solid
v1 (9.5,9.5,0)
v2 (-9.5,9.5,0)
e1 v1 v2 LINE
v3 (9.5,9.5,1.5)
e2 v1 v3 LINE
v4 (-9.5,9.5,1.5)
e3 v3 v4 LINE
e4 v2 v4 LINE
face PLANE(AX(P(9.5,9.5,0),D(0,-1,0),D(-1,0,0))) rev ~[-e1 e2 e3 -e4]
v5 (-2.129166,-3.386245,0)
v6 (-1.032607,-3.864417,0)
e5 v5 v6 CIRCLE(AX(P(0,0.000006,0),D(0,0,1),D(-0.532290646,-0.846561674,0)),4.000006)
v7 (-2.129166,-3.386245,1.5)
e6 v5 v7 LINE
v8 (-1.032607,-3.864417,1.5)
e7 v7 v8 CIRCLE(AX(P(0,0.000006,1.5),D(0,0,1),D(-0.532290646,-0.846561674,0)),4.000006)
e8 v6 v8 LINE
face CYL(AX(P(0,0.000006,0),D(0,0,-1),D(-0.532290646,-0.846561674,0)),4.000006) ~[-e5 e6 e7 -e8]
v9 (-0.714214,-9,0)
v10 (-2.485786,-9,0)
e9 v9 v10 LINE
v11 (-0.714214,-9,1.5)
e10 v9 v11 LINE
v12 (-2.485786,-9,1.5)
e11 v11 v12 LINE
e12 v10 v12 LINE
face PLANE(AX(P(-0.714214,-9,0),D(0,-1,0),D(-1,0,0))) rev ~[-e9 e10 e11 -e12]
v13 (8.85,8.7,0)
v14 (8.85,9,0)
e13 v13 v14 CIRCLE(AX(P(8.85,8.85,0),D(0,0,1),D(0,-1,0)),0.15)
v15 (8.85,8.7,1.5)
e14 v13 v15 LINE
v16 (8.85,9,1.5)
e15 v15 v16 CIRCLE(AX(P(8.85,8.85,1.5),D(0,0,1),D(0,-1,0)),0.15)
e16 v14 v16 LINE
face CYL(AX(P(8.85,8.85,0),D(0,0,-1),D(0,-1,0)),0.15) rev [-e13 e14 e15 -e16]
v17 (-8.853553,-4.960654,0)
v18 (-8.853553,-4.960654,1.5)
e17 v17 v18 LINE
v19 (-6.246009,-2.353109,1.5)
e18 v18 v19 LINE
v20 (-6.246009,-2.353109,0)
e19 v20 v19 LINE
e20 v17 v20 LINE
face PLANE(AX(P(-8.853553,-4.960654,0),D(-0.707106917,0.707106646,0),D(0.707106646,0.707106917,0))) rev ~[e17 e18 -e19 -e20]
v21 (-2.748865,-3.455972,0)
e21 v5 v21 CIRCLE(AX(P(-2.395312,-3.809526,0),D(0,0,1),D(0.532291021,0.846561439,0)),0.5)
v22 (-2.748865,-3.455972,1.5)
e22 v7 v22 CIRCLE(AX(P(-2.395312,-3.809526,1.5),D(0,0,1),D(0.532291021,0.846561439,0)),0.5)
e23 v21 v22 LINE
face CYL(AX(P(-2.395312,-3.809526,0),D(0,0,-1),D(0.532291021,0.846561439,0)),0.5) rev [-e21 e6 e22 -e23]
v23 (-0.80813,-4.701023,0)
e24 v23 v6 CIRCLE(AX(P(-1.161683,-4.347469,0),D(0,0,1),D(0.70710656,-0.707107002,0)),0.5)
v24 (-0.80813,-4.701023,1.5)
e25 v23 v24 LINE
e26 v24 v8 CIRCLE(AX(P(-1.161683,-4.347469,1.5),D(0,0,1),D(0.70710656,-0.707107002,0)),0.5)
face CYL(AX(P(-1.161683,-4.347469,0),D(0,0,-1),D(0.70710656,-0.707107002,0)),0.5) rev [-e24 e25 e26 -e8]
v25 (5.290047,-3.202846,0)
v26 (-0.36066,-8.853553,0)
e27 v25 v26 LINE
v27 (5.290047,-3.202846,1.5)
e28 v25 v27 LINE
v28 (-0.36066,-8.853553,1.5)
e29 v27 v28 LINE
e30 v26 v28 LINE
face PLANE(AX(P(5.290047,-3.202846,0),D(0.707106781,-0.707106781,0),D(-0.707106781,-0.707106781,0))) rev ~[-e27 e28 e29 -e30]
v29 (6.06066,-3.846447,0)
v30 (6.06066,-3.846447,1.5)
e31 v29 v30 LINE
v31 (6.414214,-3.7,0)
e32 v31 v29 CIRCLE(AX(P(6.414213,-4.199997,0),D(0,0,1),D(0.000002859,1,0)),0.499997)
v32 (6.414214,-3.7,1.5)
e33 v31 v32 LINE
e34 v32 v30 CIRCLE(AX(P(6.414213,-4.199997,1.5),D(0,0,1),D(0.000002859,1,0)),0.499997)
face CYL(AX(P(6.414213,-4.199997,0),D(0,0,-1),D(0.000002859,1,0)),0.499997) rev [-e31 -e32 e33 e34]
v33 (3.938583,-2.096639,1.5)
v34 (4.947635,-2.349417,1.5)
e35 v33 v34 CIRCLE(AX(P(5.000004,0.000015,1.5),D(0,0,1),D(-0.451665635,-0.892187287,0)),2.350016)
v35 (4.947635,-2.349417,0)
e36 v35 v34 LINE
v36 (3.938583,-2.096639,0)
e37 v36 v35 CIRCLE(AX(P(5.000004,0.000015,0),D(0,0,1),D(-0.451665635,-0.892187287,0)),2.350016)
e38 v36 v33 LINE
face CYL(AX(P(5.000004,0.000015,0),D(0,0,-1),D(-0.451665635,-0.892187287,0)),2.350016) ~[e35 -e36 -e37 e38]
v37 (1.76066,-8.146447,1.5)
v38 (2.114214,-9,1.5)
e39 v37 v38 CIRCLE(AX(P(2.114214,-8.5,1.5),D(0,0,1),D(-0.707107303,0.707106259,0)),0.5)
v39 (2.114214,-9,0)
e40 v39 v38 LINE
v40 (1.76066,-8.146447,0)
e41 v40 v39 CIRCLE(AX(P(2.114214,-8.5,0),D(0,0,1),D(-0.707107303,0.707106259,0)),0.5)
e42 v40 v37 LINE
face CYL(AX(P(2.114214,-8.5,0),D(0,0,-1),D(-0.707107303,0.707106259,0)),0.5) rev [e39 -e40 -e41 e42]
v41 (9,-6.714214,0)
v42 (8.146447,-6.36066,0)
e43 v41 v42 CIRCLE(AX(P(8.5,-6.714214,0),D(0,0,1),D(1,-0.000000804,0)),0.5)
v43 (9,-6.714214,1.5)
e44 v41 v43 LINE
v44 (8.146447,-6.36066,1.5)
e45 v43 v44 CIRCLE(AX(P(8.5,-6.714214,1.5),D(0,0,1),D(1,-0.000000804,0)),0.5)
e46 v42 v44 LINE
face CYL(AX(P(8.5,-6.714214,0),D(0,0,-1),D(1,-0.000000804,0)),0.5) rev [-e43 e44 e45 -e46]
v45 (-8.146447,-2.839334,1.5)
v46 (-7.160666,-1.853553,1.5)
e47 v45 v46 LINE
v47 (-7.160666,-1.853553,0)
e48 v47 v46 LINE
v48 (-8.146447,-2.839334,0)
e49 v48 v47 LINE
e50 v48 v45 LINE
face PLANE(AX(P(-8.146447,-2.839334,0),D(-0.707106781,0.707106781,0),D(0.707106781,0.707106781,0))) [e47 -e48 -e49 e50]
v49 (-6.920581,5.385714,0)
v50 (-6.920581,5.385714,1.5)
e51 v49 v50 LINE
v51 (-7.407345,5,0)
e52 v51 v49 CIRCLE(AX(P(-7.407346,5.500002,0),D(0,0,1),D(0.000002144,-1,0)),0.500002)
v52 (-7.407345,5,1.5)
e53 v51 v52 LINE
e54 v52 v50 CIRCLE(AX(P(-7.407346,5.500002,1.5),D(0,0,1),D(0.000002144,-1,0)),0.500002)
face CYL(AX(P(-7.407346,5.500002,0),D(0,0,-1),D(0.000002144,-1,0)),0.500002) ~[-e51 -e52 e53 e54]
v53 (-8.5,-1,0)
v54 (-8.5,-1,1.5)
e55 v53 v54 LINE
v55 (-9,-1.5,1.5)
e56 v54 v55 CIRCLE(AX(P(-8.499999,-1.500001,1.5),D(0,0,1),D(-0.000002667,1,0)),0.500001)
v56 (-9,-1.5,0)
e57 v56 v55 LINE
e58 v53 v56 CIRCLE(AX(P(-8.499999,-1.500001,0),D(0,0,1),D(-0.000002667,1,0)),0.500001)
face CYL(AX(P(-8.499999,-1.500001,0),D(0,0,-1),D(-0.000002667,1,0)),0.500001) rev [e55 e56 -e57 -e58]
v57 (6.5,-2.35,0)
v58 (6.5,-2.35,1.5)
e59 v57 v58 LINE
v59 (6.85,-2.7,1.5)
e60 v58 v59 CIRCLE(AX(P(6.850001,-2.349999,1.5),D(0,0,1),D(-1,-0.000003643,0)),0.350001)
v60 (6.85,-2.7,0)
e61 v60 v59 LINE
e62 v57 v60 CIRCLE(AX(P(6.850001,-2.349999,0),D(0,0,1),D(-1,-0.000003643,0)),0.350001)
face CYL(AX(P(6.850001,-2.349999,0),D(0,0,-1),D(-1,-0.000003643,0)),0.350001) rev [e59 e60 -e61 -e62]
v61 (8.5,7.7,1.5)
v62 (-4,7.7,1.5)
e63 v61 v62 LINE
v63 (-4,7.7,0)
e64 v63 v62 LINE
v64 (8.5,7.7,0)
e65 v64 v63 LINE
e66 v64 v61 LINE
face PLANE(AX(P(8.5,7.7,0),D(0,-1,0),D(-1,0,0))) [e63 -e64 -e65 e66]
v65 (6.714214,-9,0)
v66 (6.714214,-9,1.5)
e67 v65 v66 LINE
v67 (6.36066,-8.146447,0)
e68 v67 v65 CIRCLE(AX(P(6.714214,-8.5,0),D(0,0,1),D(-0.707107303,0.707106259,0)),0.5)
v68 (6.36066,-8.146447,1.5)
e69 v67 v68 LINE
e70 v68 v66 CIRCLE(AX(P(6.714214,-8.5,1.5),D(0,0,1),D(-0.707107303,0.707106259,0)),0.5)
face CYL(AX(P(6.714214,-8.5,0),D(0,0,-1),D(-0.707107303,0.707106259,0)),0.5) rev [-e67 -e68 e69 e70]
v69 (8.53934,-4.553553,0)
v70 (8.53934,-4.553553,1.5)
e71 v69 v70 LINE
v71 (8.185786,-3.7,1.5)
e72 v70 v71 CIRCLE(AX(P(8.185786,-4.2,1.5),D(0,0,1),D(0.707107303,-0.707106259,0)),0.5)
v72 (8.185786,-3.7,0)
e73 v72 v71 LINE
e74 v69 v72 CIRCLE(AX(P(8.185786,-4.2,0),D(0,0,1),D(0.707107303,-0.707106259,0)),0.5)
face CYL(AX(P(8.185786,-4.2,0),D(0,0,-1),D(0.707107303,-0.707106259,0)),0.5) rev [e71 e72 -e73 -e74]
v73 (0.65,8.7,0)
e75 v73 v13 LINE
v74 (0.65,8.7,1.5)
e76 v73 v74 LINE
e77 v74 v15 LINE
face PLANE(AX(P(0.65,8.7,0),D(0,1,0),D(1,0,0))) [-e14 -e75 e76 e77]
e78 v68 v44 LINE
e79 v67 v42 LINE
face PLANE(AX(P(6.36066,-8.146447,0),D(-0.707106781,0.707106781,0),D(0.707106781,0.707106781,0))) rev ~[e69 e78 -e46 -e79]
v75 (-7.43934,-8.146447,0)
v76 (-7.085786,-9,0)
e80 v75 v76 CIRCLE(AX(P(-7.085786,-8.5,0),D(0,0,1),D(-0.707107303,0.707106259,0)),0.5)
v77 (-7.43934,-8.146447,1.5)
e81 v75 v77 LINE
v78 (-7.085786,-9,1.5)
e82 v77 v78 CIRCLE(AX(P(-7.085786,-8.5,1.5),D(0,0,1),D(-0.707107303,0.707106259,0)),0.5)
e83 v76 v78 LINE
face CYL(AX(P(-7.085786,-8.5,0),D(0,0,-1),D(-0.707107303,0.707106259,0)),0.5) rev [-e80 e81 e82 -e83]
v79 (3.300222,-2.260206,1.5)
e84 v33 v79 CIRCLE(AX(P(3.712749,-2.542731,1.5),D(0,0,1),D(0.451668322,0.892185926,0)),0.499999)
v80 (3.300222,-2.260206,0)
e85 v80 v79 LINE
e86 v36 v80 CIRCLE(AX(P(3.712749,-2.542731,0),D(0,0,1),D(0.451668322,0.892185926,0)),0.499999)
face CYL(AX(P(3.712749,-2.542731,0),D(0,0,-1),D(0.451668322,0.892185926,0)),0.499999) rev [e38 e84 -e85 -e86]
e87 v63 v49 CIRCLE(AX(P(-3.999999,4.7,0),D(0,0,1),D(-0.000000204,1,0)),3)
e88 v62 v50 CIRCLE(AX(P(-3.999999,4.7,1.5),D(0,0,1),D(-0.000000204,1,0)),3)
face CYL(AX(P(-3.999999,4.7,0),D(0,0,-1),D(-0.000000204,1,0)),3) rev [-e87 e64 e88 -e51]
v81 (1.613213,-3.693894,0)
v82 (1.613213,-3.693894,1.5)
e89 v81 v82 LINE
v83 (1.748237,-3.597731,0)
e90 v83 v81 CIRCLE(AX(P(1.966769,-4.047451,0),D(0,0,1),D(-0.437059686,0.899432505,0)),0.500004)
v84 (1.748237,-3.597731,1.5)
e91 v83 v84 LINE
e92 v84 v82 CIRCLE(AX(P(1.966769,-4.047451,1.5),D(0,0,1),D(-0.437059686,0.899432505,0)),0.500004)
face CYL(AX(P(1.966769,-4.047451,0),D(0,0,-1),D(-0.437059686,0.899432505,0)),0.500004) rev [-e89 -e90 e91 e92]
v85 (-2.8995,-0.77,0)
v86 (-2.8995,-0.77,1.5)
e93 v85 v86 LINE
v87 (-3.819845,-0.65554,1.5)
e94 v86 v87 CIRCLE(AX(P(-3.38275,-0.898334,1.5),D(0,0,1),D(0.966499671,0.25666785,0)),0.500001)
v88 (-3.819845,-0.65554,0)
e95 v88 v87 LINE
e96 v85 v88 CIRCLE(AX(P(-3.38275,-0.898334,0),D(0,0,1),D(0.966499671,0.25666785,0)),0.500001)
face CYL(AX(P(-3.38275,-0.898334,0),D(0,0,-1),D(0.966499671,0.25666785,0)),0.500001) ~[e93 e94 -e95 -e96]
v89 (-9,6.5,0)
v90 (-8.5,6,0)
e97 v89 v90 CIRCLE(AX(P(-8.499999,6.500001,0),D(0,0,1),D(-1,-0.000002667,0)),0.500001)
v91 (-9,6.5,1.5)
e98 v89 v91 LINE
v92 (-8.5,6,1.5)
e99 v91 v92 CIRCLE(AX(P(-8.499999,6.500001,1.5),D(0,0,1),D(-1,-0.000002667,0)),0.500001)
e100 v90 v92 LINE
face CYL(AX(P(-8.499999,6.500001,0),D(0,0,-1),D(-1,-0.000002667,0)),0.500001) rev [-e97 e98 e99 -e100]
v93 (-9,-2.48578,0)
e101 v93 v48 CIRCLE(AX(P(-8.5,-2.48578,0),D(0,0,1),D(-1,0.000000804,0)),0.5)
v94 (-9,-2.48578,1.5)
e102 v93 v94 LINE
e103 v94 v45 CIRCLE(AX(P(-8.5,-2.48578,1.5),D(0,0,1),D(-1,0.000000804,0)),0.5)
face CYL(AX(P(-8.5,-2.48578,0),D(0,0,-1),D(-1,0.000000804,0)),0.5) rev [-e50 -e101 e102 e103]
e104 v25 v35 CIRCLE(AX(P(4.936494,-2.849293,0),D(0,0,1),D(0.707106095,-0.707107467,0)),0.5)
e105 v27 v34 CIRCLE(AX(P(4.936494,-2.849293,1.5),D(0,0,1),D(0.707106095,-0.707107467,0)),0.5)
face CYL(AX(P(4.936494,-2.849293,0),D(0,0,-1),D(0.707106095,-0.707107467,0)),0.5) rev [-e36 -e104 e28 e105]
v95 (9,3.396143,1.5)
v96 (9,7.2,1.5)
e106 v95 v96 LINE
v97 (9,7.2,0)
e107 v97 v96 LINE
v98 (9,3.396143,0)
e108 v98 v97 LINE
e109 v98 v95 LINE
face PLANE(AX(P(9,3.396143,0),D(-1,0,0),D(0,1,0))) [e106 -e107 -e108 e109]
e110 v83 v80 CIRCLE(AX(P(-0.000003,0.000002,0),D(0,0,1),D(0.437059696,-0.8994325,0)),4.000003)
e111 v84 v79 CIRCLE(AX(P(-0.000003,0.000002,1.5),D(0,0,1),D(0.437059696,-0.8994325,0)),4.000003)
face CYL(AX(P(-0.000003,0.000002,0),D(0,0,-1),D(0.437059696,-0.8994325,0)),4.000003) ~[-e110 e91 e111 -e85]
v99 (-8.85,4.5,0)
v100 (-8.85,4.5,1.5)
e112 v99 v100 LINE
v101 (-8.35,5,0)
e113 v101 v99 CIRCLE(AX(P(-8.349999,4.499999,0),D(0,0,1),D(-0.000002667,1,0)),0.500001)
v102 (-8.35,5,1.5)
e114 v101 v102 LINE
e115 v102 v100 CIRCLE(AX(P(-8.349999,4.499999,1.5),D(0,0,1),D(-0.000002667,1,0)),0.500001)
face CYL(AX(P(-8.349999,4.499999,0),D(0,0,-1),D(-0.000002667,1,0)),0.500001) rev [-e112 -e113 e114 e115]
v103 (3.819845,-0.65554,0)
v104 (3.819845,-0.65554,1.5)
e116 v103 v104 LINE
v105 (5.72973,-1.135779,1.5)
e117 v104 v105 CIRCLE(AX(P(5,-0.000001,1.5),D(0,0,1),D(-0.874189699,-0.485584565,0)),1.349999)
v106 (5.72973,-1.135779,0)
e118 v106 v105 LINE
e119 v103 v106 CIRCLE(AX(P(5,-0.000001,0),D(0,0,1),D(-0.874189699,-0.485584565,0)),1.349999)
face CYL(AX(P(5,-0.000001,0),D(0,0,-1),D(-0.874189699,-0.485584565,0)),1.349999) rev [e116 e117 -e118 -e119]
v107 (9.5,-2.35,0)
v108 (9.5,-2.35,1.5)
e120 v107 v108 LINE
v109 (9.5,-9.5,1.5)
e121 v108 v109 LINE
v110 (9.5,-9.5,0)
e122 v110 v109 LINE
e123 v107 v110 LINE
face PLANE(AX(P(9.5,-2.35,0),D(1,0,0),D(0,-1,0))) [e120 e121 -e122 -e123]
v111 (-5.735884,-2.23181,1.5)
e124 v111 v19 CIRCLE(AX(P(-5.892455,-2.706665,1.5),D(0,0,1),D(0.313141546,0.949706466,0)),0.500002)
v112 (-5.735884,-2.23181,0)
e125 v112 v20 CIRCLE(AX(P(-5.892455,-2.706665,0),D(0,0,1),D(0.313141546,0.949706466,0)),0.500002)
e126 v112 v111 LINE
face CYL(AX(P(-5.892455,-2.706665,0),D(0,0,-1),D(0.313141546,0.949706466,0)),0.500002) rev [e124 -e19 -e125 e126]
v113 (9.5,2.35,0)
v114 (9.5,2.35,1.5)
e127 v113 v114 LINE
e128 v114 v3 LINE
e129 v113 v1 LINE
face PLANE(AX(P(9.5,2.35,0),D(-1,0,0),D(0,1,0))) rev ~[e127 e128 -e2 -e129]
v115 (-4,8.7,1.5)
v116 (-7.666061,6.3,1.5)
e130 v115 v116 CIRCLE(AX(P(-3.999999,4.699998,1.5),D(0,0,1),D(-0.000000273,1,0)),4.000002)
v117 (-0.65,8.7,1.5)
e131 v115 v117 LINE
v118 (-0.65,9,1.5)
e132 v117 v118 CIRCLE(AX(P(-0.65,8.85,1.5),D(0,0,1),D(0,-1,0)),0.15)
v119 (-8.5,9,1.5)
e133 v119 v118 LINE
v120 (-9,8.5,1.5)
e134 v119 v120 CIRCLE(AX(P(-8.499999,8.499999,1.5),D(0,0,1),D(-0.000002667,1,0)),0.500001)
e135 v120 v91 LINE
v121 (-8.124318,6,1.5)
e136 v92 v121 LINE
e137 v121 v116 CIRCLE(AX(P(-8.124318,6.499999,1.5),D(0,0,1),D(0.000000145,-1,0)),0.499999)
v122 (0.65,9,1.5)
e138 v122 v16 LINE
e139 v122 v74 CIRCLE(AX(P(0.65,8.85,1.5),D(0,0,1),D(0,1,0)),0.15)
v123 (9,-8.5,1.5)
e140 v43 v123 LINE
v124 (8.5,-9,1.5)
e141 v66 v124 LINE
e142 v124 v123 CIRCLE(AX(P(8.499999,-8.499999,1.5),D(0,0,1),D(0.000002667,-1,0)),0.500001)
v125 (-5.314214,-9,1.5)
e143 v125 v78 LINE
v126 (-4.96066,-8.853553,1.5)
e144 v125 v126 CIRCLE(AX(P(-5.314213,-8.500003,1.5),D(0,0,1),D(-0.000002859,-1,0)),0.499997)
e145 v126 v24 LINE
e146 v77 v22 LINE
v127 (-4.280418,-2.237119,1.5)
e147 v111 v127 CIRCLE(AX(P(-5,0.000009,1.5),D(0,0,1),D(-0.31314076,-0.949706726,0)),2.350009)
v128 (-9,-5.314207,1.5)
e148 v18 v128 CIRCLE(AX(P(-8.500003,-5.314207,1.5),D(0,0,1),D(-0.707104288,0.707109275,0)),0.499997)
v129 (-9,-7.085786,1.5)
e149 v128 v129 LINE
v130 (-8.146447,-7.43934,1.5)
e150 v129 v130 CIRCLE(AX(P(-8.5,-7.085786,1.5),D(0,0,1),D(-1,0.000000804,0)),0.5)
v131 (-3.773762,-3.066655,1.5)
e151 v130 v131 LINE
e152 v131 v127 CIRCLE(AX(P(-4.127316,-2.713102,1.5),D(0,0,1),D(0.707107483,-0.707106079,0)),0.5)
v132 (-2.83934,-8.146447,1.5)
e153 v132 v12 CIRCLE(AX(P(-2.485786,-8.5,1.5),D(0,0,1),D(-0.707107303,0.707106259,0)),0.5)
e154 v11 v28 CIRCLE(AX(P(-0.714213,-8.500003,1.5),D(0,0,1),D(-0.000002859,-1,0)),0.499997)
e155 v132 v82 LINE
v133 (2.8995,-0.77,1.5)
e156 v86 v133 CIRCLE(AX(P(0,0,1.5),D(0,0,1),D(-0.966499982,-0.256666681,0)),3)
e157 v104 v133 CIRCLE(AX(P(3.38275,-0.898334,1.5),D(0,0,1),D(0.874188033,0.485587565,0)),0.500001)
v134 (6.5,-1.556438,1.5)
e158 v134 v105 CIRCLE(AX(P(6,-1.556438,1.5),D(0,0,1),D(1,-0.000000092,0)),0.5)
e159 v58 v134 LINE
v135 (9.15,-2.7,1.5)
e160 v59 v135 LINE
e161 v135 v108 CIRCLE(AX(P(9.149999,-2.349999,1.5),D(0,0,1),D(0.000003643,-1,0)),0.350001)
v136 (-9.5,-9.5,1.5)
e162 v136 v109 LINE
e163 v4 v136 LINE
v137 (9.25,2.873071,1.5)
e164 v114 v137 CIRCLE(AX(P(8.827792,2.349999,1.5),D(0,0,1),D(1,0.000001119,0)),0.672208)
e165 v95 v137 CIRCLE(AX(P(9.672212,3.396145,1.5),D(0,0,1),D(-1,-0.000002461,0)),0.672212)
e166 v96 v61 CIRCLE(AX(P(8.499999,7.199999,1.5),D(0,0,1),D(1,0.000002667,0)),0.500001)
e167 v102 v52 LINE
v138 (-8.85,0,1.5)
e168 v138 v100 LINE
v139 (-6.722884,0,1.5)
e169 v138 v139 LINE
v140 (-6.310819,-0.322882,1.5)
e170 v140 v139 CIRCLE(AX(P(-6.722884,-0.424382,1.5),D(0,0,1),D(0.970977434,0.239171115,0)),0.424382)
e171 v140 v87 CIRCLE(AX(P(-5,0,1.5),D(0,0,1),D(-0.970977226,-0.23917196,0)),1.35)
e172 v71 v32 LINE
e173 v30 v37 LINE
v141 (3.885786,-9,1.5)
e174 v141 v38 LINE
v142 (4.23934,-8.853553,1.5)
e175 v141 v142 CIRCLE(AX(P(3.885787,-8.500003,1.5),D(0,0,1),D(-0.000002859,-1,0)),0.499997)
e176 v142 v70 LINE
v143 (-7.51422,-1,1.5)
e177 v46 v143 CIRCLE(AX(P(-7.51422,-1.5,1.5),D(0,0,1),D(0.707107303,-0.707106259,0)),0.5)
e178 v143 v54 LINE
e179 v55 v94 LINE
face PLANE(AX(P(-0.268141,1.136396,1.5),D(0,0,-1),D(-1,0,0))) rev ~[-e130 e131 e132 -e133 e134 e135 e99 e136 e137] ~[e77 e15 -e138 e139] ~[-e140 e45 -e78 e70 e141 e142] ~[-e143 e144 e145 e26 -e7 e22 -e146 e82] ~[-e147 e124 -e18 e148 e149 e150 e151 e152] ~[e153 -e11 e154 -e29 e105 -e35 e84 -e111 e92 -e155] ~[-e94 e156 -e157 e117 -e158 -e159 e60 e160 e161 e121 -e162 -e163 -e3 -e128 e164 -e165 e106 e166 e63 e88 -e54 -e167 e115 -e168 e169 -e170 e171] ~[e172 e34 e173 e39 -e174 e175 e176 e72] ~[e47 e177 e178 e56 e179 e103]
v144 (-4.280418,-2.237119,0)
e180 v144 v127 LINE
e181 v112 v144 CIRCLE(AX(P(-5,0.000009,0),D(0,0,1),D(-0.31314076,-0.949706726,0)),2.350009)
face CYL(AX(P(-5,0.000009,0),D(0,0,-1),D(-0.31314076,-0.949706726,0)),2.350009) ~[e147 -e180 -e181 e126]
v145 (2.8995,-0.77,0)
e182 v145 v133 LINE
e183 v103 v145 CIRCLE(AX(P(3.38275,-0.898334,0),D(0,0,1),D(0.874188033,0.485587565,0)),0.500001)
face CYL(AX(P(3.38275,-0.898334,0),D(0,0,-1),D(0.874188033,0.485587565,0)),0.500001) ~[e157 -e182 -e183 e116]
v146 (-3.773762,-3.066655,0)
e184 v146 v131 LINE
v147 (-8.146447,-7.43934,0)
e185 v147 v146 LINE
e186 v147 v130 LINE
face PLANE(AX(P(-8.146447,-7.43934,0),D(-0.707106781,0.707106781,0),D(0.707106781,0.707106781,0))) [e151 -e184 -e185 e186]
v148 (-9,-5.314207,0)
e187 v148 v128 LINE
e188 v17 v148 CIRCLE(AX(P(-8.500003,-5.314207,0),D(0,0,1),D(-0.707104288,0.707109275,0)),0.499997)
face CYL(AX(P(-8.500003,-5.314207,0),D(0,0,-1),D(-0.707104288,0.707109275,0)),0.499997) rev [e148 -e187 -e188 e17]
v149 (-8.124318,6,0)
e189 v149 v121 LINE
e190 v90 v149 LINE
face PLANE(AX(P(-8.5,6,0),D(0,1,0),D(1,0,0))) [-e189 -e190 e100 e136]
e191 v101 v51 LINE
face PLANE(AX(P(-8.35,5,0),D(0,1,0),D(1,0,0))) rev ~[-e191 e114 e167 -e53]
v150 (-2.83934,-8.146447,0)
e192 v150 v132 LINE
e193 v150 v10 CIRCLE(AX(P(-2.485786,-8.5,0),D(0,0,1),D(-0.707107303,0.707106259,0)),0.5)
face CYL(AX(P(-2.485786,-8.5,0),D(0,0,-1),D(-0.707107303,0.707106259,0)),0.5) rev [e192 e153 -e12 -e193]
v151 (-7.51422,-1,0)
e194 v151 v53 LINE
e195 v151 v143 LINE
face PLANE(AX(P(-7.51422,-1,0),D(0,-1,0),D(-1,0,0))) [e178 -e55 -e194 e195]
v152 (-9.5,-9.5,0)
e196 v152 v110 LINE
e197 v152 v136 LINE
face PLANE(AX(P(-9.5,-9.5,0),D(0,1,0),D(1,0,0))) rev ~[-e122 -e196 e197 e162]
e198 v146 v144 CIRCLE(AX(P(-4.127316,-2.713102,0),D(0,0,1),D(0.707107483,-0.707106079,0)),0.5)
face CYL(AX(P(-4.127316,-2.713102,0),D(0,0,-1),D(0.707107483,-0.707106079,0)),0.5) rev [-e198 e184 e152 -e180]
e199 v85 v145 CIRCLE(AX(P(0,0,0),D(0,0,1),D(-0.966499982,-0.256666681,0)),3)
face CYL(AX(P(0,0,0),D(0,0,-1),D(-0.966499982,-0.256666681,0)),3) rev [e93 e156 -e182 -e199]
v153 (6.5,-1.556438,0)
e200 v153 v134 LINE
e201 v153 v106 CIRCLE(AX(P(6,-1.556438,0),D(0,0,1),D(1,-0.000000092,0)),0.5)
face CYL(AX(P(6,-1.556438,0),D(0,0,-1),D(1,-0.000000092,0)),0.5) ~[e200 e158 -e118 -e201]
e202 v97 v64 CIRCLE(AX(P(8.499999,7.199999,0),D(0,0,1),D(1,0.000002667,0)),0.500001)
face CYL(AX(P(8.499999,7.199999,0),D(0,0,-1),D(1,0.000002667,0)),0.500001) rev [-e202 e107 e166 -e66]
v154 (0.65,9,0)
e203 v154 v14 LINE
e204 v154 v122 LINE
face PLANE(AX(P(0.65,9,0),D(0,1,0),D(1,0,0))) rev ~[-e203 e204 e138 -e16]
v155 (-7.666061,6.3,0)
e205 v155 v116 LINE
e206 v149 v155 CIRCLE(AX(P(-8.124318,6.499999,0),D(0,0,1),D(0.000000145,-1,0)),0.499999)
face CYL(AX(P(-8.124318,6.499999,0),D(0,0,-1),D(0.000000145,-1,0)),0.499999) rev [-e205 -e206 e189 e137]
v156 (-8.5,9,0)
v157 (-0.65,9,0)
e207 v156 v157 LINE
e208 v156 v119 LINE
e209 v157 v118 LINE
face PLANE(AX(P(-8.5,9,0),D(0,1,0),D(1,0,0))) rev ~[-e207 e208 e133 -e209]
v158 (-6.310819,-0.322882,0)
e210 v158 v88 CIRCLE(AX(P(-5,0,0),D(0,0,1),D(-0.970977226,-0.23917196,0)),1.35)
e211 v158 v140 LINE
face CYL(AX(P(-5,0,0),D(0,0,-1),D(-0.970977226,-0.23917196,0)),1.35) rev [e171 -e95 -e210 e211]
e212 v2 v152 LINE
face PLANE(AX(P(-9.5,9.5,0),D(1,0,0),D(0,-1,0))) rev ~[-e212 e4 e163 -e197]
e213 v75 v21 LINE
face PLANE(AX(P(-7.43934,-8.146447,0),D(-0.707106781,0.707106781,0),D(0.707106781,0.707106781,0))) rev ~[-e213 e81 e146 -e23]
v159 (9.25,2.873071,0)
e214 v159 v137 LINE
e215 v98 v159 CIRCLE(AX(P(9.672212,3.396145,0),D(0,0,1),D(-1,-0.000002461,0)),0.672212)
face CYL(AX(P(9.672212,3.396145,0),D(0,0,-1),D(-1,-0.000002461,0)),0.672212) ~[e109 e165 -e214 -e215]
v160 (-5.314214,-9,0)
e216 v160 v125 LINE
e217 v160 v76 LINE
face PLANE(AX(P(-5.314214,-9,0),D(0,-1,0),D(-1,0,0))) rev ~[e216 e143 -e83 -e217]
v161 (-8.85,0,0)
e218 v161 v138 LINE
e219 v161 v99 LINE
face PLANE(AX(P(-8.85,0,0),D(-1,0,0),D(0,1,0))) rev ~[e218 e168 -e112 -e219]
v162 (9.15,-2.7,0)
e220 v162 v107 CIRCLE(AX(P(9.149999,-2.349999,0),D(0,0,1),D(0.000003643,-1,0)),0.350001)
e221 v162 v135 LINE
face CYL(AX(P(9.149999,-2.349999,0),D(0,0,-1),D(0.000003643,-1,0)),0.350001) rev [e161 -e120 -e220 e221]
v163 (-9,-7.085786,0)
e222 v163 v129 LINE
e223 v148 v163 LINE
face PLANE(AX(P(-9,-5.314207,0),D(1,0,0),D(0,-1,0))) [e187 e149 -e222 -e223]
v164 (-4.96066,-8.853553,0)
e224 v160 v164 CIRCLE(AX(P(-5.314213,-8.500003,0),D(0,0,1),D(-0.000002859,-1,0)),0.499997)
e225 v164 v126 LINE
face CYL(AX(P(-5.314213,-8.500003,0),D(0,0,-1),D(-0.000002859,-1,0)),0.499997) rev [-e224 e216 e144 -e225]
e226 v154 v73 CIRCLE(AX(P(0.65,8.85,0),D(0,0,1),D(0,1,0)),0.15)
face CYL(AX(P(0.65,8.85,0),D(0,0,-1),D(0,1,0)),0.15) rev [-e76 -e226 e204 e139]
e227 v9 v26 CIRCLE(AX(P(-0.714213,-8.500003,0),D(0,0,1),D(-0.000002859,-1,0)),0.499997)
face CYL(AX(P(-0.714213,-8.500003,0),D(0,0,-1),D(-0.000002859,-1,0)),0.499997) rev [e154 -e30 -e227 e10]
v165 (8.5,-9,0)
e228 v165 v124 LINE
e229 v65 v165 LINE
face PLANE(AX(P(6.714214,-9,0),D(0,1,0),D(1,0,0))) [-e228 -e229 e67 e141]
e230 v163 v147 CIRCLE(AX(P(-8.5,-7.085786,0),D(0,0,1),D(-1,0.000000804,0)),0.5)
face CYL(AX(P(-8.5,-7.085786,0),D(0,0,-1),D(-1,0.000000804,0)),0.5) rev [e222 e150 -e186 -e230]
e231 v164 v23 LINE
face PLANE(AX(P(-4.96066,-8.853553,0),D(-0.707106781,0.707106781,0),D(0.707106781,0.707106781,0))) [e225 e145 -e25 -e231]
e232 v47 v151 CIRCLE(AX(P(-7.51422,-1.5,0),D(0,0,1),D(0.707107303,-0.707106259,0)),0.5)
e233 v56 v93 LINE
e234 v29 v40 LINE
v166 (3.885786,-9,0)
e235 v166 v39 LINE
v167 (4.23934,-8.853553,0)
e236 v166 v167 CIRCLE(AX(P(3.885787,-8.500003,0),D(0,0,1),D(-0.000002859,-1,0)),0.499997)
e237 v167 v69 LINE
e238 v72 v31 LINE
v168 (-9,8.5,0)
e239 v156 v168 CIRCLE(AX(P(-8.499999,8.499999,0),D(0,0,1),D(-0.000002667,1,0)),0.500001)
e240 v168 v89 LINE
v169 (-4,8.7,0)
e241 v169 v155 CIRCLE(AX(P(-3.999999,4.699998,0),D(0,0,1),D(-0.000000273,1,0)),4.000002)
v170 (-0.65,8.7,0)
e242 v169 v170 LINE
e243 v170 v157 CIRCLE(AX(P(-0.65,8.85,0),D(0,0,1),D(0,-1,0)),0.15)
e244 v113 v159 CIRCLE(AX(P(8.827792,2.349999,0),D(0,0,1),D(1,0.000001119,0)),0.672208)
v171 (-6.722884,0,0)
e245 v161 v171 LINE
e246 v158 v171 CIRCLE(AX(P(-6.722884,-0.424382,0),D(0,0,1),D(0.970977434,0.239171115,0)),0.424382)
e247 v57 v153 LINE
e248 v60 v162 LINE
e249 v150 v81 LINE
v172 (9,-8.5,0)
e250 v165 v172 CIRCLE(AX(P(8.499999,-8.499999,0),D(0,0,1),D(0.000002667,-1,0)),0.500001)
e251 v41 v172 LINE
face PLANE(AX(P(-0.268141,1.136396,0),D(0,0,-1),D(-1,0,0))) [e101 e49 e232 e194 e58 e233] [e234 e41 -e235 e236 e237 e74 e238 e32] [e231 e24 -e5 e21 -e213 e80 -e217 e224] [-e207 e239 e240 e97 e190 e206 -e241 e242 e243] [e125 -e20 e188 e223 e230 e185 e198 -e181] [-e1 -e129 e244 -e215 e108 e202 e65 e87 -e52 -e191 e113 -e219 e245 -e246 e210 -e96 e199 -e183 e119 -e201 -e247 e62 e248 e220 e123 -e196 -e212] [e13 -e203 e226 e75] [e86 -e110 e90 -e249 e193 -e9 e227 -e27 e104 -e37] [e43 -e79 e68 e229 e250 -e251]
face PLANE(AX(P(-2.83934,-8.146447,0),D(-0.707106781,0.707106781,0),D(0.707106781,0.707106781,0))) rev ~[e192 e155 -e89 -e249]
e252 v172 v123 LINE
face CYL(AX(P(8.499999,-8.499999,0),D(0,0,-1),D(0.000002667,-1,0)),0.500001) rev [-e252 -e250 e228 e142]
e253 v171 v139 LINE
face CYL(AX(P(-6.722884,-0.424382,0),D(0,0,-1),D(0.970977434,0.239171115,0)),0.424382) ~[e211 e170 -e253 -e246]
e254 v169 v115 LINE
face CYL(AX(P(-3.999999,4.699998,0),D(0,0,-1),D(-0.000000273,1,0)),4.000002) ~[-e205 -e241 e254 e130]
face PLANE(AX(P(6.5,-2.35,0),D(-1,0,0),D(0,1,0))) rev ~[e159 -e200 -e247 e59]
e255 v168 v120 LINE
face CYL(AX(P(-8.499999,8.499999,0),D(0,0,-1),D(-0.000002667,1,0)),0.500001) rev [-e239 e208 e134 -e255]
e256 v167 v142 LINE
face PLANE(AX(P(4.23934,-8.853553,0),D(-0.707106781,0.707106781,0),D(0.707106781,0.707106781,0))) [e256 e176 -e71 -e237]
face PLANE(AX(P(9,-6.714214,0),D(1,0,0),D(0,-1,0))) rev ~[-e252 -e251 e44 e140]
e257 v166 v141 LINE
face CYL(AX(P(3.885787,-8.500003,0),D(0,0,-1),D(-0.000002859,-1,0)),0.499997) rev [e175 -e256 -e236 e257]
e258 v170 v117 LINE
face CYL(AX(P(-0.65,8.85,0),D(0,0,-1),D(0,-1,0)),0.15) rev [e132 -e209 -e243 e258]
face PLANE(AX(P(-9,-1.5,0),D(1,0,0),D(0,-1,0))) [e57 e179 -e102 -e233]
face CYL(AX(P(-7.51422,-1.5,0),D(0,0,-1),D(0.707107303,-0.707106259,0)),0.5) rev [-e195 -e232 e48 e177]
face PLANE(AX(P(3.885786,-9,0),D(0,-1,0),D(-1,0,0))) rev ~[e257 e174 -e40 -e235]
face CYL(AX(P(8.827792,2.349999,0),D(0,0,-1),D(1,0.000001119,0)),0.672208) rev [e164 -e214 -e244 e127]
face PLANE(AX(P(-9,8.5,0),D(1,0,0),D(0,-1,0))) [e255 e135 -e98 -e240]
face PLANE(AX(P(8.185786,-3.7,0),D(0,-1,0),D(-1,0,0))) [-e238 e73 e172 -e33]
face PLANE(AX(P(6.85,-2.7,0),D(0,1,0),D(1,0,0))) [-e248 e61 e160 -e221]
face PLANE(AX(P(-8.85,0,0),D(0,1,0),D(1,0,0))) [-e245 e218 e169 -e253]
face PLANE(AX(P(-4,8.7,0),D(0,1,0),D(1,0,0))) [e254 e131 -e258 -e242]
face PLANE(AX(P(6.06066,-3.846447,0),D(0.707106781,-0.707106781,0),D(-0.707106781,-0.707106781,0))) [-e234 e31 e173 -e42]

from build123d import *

# Parameters (mm, degrees)
PAD_DEPTH = 1.5


with BuildPart() as part:
    # Sketch → Pad (new body)
    with BuildSketch(Plane.XY):
        with BuildLine():
            ThreePointArc((-2.8995, -0.77), (0, -3), (2.8995, -0.77))
            ThreePointArc((3.819845, -0.65554), (3.321042, -0.402156), (2.8995, -0.77))
            ThreePointArc((3.819845, -0.65554), (4.670792, -1.309245), (5.72973, -1.135779))
            ThreePointArc((6.5, -1.556438), (6.239651, -1.117613), (5.72973, -1.135779))
            Line((6.5, -2.35), (6.5, -1.556438))
            ThreePointArc((6.5, -2.35), (6.602513, -2.597487), (6.85, -2.7))
            Line((6.85, -2.7), (9.15, -2.7))
            ThreePointArc((9.15, -2.7), (9.397487, -2.597487), (9.5, -2.35))
            Line((9.5, -2.35), (9.5, -9.5))
            Line((-9.5, -9.5), (9.5, -9.5))
            Line((-9.5, 9.5), (-9.5, -9.5))
            Line((9.5, 9.5), (-9.5, 9.5))
            Line((9.5, 2.35), (9.5, 9.5))
            ThreePointArc((9.5, 2.35), (9.434288, 2.639872), (9.25, 2.873071))
            ThreePointArc((9, 3.396143), (9.065712, 3.106271), (9.25, 2.873071))
            Line((9, 3.396143), (9, 7.2))
            ThreePointArc((9, 7.2), (8.853553, 7.553553), (8.5, 7.7))
            Line((8.5, 7.7), (-4, 7.7))
            ThreePointArc((-4, 7.7), (-5.863177, 7.051291), (-6.920581, 5.385714))
            ThreePointArc((-7.407345, 5), (-7.096816, 5.108118), (-6.920581, 5.385714))
            Line((-8.35, 5), (-7.407345, 5))
            ThreePointArc((-8.35, 5), (-8.703553, 4.853553), (-8.85, 4.5))
            Line((-8.85, 0), (-8.85, 4.5))
            Line((-8.85, 0), (-6.722884, 0))
            ThreePointArc((-6.310819, -0.322882), (-6.461135, -0.090335), (-6.722884, 0))
            ThreePointArc((-6.310819, -0.322882), (-5.1787, -1.33812), (-3.819845, -0.65554))
            ThreePointArc((-2.8995, -0.77), (-3.321042, -0.402156), (-3.819845, -0.65554))
        make_face()
        with BuildLine():
            Line((-8.146447, -7.43934), (-3.773762, -3.066655))
            ThreePointArc((-3.773762, -3.066655), (-3.70061, -2.452483), (-4.280418, -2.237119))
            ThreePointArc((-5.735884, -2.23181), (-5.008573, -2.349984), (-4.280418, -2.237119))
            ThreePointArc((-5.735884, -2.23181), (-6.008123, -2.220226), (-6.246009, -2.353109))
            Line((-8.853553, -4.960654), (-6.246009, -2.353109))
            ThreePointArc((-8.853553, -4.960654), (-8.96194, -5.122866), (-9, -5.314207))
            Line((-9, -5.314207), (-9, -7.085786))
            ThreePointArc((-9, -7.085786), (-8.691342, -7.547726), (-8.146447, -7.43934))
        make_face(mode=Mode.SUBTRACT)
        with BuildLine():
            Line((-7.43934, -8.146447), (-2.748865, -3.455972))
            ThreePointArc((-2.129166, -3.386245), (-2.451218, -3.312661), (-2.748865, -3.455972))
            ThreePointArc((-2.129166, -3.386245), (-1.598864, -3.666556), (-1.032607, -3.864417))
            ThreePointArc((-0.80813, -4.701023), (-0.678765, -4.217893), (-1.032607, -3.864417))
            Line((-4.96066, -8.853553), (-0.80813, -4.701023))
            ThreePointArc((-5.314214, -9), (-5.122872, -8.96194), (-4.96066, -8.853553))
            Line((-5.314214, -9), (-7.085786, -9))
            ThreePointArc((-7.43934, -8.146447), (-7.547726, -8.691342), (-7.085786, -9))
        make_face(mode=Mode.SUBTRACT)
        with BuildLine():
            Line((-7.51422, -1), (-8.5, -1))
            ThreePointArc((-8.5, -1), (-8.853553, -1.146447), (-9, -1.5))
            Line((-9, -1.5), (-9, -2.48578))
            ThreePointArc((-9, -2.48578), (-8.691342, -2.94772), (-8.146447, -2.839334))
            Line((-8.146447, -2.839334), (-7.160666, -1.853553))
            ThreePointArc((-7.160666, -1.853553), (-7.05228, -1.308658), (-7.51422, -1))
        make_face(mode=Mode.SUBTRACT)
        with BuildLine():
            ThreePointArc((1.748237, -3.597731), (2.611317, -3.03002), (3.300222, -2.260206))
            ThreePointArc((3.938583, -2.096639), (3.588644, -2.058379), (3.300222, -2.260206))
            ThreePointArc((3.938583, -2.096639), (4.428947, -2.279561), (4.947635, -2.349417))
            ThreePointArc((5.290047, -3.202846), (5.400537, -2.66311), (4.947635, -2.349417))
            Line((5.290047, -3.202846), (-0.36066, -8.853553))
            ThreePointArc((-0.714214, -9), (-0.522872, -8.96194), (-0.36066, -8.853553))
            Line((-0.714214, -9), (-2.485786, -9))
            ThreePointArc((-2.83934, -8.146447), (-2.947726, -8.691342), (-2.485786, -9))
            Line((-2.83934, -8.146447), (1.613213, -3.693894))
            ThreePointArc((1.748237, -3.597731), (1.676712, -3.640178), (1.613213, -3.693894))
        make_face(mode=Mode.SUBTRACT)
        with BuildLine():
            ThreePointArc((8.5, -9), (8.853553, -8.853553), (9, -8.5))
            Line((9, -6.714214), (9, -8.5))
            ThreePointArc((9, -6.714214), (8.691342, -6.252274), (8.146447, -6.36066))
            Line((6.36066, -8.146447), (8.146447, -6.36066))
            ThreePointArc((6.36066, -8.146447), (6.252274, -8.691342), (6.714214, -9))
            Line((6.714214, -9), (8.5, -9))
        make_face(mode=Mode.SUBTRACT)
        with BuildLine():
            Line((8.185786, -3.7), (6.414214, -3.7))
            ThreePointArc((6.414214, -3.7), (6.222872, -3.73806), (6.06066, -3.846447))
            Line((6.06066, -3.846447), (1.76066, -8.146447))
            ThreePointArc((1.76066, -8.146447), (1.652274, -8.691342), (2.114214, -9))
            Line((3.885786, -9), (2.114214, -9))
            ThreePointArc((3.885786, -9), (4.077128, -8.96194), (4.23934, -8.853553))
            Line((4.23934, -8.853553), (8.53934, -4.553553))
            ThreePointArc((8.53934, -4.553553), (8.647726, -4.008658), (8.185786, -3.7))
        make_face(mode=Mode.SUBTRACT)
        with BuildLine():
            Line((-9, 8.5), (-9, 6.5))
            ThreePointArc((-9, 6.5), (-8.853553, 6.146447), (-8.5, 6))
            Line((-8.5, 6), (-8.124318, 6))
            ThreePointArc((-8.124318, 6), (-7.850457, 6.08167), (-7.666061, 6.3))
            ThreePointArc((-4, 8.7), (-6.19089, 8.04664), (-7.666061, 6.3))
            Line((-4, 8.7), (-0.65, 8.7))
            ThreePointArc((-0.65, 8.7), (-0.5, 8.85), (-0.65, 9))
            Line((-8.5, 9), (-0.65, 9))
            ThreePointArc((-8.5, 9), (-8.853553, 8.853553), (-9, 8.5))
        make_face(mode=Mode.SUBTRACT)
        with BuildLine():
            ThreePointArc((8.85, 8.7), (9, 8.85), (8.85, 9))
            Line((0.65, 9), (8.85, 9))
            ThreePointArc((0.65, 9), (0.5, 8.85), (0.65, 8.7))
            Line((0.65, 8.7), (8.85, 8.7))
        make_face(mode=Mode.SUBTRACT)
    extrude(amount=PAD_DEPTH)


solid = part.part
